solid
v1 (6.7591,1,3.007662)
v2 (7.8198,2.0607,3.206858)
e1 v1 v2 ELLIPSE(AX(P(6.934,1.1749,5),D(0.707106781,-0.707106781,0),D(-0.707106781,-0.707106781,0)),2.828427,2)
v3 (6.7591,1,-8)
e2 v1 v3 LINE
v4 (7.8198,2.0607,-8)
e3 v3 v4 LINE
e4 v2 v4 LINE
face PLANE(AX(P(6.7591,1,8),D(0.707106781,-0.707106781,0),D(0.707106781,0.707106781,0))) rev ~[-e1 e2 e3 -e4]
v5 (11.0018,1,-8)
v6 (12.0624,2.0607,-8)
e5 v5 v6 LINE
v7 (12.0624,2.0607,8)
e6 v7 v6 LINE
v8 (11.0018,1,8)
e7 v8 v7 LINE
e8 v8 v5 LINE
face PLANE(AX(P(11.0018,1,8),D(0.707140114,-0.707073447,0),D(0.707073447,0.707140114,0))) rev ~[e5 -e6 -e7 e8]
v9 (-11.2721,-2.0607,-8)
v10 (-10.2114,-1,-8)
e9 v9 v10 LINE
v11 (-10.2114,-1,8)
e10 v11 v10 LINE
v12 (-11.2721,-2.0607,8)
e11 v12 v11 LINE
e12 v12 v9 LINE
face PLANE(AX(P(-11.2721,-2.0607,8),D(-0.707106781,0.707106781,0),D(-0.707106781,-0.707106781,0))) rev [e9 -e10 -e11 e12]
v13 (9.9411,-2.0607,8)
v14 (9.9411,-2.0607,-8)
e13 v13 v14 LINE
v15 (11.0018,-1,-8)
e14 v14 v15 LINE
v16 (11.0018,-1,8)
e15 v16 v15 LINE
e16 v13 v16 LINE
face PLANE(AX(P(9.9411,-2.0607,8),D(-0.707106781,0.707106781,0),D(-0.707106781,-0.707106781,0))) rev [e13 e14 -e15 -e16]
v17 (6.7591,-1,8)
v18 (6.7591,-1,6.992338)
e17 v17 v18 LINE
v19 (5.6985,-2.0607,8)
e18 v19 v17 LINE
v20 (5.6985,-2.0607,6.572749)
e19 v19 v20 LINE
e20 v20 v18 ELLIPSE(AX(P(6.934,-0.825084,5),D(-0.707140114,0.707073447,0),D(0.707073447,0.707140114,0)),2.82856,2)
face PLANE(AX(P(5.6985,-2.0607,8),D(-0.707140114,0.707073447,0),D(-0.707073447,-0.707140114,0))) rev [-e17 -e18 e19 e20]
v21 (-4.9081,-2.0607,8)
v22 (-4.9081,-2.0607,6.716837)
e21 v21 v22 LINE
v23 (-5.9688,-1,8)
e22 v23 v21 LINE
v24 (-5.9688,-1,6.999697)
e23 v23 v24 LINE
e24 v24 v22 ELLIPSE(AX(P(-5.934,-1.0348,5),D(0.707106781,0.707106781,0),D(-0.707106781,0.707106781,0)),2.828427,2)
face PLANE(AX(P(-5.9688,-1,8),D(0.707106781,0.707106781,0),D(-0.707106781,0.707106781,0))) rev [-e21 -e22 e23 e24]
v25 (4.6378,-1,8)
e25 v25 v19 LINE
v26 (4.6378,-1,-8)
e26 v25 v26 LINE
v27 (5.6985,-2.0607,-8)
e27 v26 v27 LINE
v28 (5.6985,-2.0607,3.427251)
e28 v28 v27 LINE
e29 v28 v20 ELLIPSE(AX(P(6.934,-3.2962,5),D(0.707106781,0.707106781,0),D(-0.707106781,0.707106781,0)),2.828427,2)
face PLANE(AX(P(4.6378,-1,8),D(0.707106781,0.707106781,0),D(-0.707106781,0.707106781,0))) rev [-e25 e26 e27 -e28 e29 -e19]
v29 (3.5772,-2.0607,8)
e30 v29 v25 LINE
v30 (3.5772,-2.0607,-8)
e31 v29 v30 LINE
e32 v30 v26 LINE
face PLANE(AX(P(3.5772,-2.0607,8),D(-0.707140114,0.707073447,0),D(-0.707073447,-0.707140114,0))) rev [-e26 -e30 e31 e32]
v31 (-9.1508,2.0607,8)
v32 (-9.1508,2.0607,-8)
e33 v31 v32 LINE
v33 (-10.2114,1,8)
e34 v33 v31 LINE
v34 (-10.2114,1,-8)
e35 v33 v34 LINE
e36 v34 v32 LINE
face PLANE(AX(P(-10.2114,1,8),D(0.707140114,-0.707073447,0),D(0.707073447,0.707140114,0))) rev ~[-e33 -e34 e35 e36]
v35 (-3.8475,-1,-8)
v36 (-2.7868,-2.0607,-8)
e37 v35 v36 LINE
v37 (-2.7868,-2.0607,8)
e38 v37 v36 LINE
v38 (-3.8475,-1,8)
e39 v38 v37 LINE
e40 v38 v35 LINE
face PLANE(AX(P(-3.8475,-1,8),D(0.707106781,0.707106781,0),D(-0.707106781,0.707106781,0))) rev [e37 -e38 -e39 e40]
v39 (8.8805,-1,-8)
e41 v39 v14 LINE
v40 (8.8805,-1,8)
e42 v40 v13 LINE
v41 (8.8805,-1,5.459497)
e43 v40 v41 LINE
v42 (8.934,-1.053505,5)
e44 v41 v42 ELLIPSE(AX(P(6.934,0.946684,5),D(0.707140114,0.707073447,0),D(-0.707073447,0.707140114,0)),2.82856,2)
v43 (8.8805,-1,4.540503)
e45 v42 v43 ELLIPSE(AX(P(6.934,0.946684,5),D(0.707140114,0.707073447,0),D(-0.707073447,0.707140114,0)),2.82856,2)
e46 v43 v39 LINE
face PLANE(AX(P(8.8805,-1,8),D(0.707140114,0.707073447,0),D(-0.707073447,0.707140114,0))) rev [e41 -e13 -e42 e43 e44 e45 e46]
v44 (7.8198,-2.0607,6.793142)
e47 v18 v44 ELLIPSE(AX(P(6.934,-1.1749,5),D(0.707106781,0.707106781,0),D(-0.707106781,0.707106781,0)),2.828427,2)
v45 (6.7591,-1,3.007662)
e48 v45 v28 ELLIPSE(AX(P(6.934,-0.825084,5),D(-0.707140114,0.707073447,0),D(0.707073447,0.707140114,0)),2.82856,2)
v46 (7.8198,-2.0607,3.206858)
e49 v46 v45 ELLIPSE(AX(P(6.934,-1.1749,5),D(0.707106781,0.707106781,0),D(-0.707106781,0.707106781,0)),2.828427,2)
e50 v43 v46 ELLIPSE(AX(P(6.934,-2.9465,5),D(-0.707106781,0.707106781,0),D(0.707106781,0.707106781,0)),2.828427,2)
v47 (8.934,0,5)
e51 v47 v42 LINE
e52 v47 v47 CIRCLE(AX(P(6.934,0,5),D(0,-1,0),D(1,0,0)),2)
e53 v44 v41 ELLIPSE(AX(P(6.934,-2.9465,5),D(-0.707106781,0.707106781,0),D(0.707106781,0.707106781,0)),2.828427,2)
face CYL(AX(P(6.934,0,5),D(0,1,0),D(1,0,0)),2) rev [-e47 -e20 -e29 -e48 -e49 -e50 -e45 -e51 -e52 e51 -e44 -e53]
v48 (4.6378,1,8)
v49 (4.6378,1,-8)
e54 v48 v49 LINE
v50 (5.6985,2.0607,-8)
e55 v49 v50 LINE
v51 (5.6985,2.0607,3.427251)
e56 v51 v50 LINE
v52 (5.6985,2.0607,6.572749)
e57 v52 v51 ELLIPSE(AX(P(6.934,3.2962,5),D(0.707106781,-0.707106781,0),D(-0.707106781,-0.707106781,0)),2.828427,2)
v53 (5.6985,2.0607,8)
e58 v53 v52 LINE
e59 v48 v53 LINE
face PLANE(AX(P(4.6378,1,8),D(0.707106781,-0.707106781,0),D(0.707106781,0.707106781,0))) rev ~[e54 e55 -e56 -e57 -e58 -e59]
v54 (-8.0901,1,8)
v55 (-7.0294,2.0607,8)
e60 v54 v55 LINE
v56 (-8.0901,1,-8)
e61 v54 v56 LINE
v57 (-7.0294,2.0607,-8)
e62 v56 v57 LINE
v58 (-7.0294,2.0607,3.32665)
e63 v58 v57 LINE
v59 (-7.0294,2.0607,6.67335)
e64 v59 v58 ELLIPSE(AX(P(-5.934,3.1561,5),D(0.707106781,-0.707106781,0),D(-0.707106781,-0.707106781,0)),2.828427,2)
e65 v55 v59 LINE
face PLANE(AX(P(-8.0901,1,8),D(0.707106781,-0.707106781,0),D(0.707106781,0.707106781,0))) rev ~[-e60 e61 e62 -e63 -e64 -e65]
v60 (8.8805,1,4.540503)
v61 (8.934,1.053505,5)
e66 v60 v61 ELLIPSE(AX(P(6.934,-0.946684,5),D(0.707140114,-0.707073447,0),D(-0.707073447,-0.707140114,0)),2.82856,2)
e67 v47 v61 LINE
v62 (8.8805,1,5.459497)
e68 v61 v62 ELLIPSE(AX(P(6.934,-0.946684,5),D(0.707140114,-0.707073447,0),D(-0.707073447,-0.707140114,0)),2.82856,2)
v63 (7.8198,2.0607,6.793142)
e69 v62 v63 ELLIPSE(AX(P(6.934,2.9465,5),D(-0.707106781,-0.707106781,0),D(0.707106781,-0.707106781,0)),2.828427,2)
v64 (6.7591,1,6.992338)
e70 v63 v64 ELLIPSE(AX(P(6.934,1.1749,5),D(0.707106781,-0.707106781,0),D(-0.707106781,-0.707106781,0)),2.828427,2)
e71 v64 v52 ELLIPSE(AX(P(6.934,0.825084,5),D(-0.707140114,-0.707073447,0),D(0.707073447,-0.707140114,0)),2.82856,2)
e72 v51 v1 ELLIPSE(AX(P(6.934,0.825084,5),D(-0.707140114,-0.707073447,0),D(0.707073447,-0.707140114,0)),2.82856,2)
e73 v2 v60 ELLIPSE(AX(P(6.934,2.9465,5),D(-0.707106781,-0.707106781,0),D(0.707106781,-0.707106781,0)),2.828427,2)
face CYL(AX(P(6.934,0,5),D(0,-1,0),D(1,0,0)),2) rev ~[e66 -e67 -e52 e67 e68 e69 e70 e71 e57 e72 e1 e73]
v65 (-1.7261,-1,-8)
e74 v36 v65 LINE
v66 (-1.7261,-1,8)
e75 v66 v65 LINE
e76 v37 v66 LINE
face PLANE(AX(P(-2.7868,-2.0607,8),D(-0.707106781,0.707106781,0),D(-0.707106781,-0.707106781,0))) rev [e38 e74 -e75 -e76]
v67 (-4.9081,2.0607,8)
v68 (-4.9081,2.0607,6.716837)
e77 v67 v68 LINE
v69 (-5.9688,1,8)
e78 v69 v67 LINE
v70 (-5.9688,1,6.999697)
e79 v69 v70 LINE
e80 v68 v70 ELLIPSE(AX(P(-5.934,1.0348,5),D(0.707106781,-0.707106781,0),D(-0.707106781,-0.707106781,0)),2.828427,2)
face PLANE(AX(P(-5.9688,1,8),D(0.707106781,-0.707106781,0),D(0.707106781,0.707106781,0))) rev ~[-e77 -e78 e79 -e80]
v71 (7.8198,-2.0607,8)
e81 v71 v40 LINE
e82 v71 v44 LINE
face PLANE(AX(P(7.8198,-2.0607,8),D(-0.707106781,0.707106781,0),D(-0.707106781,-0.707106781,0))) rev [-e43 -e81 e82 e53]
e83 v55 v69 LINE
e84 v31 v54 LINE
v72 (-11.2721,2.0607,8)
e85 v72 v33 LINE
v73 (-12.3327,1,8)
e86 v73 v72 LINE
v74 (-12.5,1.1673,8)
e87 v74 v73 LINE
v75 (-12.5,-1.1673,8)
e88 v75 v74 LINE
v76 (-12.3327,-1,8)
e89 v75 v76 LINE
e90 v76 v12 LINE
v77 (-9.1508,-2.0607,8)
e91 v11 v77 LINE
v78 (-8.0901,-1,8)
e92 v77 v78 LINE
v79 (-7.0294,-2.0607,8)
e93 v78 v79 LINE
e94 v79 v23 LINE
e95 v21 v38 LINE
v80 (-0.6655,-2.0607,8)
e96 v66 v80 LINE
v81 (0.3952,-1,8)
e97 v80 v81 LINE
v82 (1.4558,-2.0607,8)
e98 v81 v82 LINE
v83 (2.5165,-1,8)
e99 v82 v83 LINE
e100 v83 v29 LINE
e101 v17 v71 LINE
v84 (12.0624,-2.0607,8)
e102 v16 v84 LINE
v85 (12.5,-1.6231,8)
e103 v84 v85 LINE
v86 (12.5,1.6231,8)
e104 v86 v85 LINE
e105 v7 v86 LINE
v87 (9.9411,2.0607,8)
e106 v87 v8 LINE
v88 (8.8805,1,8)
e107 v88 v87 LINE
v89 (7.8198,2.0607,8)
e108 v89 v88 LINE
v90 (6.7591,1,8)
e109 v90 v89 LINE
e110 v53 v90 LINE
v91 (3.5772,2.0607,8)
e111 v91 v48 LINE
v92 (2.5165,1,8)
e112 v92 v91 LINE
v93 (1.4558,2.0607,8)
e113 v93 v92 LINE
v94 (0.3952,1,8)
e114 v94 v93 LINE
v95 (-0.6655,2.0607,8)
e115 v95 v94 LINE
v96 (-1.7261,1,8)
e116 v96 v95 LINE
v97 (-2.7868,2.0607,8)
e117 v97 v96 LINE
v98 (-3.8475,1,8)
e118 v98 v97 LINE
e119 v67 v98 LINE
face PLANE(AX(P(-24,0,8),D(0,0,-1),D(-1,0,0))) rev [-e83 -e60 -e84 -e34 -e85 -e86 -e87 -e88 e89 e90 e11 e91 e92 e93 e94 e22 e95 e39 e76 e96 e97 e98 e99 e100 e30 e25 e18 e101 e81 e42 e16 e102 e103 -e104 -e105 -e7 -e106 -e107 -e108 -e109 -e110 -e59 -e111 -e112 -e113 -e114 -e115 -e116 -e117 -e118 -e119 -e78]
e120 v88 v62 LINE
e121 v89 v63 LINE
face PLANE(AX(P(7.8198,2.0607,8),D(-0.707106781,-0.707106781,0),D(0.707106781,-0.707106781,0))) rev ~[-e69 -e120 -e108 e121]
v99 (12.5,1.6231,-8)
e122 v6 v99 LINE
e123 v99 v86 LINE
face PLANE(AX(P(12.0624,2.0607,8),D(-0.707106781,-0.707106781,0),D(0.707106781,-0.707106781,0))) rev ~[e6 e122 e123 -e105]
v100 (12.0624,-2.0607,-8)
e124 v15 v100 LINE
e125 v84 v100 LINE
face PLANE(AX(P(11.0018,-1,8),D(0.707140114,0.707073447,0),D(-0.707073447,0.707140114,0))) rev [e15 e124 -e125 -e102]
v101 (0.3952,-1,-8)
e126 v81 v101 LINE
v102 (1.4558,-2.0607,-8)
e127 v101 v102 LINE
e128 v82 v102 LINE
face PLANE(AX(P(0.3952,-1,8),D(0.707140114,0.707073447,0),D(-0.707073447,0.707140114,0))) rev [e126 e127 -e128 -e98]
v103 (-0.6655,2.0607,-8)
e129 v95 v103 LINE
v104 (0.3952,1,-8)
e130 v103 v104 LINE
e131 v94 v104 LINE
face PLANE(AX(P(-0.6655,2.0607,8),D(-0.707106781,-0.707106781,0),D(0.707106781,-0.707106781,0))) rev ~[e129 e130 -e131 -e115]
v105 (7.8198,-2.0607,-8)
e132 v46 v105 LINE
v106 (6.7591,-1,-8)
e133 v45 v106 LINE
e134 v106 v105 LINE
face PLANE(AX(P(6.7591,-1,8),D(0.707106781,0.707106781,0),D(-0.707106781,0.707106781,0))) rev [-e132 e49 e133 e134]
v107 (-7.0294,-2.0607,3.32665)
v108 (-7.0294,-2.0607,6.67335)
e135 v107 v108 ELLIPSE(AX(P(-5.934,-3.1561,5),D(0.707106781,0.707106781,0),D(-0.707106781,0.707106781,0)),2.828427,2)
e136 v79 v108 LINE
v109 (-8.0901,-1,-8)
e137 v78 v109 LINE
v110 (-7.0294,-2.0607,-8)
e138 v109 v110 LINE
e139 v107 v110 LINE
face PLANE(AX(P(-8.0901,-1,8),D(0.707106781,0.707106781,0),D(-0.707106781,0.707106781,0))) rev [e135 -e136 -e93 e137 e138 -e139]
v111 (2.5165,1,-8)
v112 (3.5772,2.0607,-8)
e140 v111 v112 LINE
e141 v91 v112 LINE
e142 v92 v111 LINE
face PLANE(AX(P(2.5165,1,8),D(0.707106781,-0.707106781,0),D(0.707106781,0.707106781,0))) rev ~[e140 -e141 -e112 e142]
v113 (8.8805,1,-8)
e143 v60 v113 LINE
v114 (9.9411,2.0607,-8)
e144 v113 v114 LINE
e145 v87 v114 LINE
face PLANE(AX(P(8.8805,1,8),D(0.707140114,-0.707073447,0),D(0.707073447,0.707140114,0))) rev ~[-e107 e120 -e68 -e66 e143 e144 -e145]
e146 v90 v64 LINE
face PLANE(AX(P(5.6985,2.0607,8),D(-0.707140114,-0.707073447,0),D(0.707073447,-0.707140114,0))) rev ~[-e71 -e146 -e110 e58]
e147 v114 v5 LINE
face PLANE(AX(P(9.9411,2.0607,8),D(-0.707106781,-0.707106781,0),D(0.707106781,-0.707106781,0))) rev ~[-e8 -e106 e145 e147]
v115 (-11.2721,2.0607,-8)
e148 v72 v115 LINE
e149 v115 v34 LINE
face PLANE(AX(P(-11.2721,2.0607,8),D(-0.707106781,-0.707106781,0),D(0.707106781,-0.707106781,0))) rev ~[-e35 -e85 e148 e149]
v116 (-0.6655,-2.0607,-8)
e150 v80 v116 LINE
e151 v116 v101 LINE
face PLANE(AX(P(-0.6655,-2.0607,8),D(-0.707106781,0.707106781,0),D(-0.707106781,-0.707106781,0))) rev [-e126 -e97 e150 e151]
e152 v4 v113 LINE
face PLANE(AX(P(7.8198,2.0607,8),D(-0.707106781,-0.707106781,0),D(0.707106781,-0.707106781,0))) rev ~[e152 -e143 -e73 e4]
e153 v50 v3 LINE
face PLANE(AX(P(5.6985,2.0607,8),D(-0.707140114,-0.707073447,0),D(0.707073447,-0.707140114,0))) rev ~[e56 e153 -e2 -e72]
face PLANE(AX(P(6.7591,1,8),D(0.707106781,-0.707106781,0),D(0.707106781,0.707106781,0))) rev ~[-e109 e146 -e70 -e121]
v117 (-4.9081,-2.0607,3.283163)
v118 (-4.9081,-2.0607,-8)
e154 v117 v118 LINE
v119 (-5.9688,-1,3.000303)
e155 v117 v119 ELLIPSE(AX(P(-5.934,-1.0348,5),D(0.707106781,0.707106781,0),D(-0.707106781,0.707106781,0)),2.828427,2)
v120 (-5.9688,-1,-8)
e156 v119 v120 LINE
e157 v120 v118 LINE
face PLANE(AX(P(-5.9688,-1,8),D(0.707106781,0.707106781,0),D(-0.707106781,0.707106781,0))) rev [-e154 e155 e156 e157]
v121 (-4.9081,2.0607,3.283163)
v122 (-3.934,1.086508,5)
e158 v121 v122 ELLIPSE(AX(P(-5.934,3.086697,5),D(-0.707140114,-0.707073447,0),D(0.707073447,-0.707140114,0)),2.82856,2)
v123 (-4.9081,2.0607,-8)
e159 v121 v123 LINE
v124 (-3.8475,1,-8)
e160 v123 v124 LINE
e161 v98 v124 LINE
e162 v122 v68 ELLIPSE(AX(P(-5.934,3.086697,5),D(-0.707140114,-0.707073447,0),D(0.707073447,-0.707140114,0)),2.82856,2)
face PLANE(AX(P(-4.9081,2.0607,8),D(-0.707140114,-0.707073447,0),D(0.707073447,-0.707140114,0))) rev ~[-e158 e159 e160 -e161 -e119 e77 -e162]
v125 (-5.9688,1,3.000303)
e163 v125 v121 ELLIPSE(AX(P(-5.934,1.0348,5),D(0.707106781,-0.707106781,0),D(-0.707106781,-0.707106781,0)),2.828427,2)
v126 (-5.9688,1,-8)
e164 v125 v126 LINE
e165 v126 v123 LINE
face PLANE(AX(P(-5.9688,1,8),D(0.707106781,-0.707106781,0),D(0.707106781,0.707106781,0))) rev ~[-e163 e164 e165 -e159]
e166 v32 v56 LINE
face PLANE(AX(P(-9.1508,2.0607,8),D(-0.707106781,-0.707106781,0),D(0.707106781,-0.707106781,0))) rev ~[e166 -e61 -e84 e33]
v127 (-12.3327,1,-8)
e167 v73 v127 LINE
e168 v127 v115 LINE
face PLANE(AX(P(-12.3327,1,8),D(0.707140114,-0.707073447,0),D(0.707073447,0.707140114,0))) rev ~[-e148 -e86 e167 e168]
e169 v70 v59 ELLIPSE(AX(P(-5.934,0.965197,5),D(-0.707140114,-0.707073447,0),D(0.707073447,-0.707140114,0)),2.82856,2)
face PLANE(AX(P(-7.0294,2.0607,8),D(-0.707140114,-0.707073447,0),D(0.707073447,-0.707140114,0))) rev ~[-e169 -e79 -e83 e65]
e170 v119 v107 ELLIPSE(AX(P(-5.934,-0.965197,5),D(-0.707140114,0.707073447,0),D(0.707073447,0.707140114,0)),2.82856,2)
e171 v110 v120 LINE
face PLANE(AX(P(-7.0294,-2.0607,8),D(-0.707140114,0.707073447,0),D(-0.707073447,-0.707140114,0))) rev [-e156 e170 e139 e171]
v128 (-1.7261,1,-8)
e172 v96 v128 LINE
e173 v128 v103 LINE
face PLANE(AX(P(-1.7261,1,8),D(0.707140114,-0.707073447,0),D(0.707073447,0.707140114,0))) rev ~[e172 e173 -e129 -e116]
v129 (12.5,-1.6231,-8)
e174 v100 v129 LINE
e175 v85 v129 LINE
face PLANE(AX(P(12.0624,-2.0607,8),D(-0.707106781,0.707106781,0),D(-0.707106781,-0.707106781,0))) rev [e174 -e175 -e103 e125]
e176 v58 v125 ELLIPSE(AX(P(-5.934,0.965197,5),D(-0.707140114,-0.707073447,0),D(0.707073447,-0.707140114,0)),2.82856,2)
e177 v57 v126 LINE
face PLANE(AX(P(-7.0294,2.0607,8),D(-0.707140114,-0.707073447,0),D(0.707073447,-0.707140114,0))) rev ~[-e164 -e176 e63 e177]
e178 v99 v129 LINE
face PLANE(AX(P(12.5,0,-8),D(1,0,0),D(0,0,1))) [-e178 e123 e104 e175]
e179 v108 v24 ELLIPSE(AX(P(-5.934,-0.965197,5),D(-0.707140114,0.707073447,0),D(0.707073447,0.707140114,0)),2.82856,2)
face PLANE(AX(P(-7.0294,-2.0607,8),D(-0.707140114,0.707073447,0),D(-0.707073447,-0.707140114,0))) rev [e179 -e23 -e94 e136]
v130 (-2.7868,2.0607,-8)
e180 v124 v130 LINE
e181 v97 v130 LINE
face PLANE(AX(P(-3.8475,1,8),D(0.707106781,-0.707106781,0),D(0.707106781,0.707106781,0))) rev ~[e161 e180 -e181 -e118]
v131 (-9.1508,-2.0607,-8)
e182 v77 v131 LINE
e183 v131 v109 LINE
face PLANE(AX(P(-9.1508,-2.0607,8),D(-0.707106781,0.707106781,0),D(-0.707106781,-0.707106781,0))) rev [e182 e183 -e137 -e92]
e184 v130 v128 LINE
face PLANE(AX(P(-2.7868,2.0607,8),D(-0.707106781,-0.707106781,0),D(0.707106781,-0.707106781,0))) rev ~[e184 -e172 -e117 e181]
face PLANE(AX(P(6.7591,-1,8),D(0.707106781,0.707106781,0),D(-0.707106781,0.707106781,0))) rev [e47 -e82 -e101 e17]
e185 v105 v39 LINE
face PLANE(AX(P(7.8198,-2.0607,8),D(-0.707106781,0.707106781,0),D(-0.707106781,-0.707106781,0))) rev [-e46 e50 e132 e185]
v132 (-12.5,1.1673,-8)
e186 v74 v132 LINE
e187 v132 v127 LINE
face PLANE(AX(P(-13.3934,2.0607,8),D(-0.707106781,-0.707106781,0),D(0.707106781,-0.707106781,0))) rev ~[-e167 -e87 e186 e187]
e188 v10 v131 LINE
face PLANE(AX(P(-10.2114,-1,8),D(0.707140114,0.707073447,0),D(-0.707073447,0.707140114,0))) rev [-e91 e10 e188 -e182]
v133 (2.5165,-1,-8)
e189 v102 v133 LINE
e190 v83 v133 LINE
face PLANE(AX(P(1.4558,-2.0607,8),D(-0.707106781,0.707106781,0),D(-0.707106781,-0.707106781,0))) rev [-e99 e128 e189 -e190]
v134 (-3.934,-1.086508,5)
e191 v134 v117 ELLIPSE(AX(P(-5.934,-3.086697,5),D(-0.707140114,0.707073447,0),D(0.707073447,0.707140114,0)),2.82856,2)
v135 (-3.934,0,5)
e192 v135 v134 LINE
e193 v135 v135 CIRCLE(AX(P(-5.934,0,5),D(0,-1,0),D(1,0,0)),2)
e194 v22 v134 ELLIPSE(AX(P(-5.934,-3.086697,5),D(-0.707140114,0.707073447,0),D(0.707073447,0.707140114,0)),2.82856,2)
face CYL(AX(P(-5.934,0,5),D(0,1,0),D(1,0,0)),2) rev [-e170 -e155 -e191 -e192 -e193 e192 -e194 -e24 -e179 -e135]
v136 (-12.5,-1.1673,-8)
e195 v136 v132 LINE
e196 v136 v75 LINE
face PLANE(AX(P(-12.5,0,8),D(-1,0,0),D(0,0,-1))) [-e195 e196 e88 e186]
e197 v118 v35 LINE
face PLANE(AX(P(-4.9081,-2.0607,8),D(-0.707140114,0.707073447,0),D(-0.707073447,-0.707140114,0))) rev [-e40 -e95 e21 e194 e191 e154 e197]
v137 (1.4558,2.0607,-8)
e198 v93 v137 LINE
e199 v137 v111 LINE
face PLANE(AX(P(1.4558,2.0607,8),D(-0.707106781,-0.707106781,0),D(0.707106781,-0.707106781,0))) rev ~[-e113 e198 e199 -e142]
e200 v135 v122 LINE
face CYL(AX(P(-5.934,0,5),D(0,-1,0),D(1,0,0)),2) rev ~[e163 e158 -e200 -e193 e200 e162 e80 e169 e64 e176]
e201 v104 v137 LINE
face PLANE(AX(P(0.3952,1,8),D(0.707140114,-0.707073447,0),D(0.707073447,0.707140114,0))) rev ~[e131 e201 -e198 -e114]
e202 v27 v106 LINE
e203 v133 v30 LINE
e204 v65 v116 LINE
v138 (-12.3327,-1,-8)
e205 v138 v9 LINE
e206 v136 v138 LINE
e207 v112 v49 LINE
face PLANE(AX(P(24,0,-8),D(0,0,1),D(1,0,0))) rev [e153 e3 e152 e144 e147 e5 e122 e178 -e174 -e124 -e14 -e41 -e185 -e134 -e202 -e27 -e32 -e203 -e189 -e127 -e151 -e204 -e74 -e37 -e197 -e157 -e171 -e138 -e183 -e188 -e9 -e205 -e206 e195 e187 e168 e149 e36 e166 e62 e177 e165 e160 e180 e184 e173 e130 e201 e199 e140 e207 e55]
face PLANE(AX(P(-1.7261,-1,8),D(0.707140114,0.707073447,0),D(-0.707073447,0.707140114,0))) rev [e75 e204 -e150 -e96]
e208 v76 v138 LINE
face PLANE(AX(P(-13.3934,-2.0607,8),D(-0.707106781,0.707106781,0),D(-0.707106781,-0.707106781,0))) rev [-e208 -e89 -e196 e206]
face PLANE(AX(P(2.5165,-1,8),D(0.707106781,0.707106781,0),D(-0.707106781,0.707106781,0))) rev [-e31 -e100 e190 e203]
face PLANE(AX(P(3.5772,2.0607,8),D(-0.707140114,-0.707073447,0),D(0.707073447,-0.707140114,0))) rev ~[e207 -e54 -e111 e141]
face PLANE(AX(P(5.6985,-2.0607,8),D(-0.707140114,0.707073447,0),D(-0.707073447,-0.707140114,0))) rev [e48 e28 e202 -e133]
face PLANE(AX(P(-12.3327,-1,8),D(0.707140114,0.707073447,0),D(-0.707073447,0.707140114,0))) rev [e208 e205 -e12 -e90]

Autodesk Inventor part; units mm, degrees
ref_plane "YZ Plane" through (0, 0, 0) normal (1, 0, 0) x (0, 1, 0)
ref_plane "XZ Plane" through (0, 0, 0) normal (0, 1, 0) x (-1, 0, 0)
ref_plane "XY Plane" through (0, 0, 0) normal (0, 0, 1) x (1, 0, 0)
sketch "Sketch1" plane through (0, 0, 0) normal (0, 1, 0) x (-1, 0, 0)
  line L0 (24, 8) -> (-24, 8)
  line L1 (-24, 8) -> (-24, -8)
  line L2 (-24, -8) -> (24, -8)
  line L3 (24, -8) -> (24, 8)
  point P0 (0, 0)
  dimension "d0" = 48
  dimension "d1" = 16
extrude "Extrusion1" add sketch "Sketch1" along normal blind 1
sketch "Sketch2" plane through (-24, 0, 8) normal (0, 0, 1) x (1, 0, 0)
  line L0 (0, 1) -> (1.5, 1) construction
  line L1 (0, 2.0607) -> (1.0607, 1)
  line L2 (0, 1) -> (48, 1) projected
  line L3 (0, 2.0607) -> (0, 1)
  line L4 (1.0607, 1) -> (2.1213, 2.0607)
  line L5 (1.0607, 1) -> (2.5607, 1) construction
  line L6 (2.1213, 2.0607) -> (3.182, 1)
  line L7 (3.182, 1) -> (4.2426, 2.0607)
  line L8 (4.2426, 2.0607) -> (5.3033, 1)
  line L9 (5.3033, 1) -> (6.364, 2.0607)
  line L10 (6.364, 2.0607) -> (7.4246, 1)
  line L11 (7.4246, 1) -> (8.4853, 2.0607)
  line L12 (7.4246, 1) -> (8.9246, 1) construction
  line L13 (8.4853, 2.0607) -> (9.5459, 1)
  line L14 (9.5459, 1) -> (10.6066, 2.0607)
  line L15 (10.6066, 2.0607) -> (11.6673, 1)
  line L16 (11.6673, 1) -> (12.7279, 2.0607)
  line L17 (12.7279, 2.0607) -> (13.7886, 1)
  line L18 (13.7886, 1) -> (14.8492, 2.0607)
  line L19 (14.8492, 2.0607) -> (15.9099, 1)
  line L20 (15.9099, 1) -> (16.9706, 2.0607)
  line L21 (16.9706, 2.0607) -> (18.0312, 1)
  line L22 (18.0312, 1) -> (19.0919, 2.0607)
  line L23 (19.0919, 2.0607) -> (20.1525, 1)
  line L24 (20.1525, 1) -> (21.2132, 2.0607)
  line L25 (21.2132, 2.0607) -> (22.2739, 1)
  line L26 (22.2739, 1) -> (23.3345, 2.0607)
  line L27 (23.3345, 2.0607) -> (24.3952, 1)
  line L28 (24.3952, 1) -> (25.4558, 2.0607)
  line L29 (25.4558, 2.0607) -> (26.5165, 1)
  line L30 (26.5165, 1) -> (27.5772, 2.0607)
  line L31 (27.5772, 2.0607) -> (28.6378, 1)
  line L32 (27.5772, 2.0607) -> (29.0772, 2.0607) construction
  line L33 (28.6378, 1) -> (29.6985, 2.0607)
  line L34 (29.6985, 2.0607) -> (30.7591, 1)
  line L35 (30.7591, 1) -> (31.8198, 2.0607)
  line L36 (31.8198, 2.0607) -> (32.8805, 1)
  line L37 (32.8805, 1) -> (33.9411, 2.0607)
  line L38 (33.9411, 2.0607) -> (35.0018, 1)
  line L39 (35.0018, 1) -> (36.0624, 2.0607)
  line L40 (36.0624, 2.0607) -> (37.1231, 1)
  line L41 (37.1231, 1) -> (38.1838, 2.0607)
  line L42 (38.1838, 2.0607) -> (39.2444, 1)
  line L43 (39.2444, 1) -> (40.3051, 2.0607)
  line L44 (40.3051, 2.0607) -> (41.3657, 1)
  line L45 (41.3657, 1) -> (42.4264, 2.0607)
  line L46 (42.4264, 2.0607) -> (43.4871, 1)
  line L47 (43.4871, 1) -> (44.5477, 2.0607)
  line L48 (44.5477, 2.0607) -> (45.6084, 1)
  line L49 (45.6084, 1) -> (46.669, 2.0607)
  line L50 (46.669, 2.0607) -> (47.7297, 1)
  line L51 (47.7297, 1) -> (48.7904, 2.0607)
  line L52 (48, 1) -> (48, 1.2703)
  line L53 (48, 0) -> (48, 1) projected
  line L54 (48, 1) -> (0, 1)
  point P0 (24, 0)
  point P1 (47.7297, 1)
  point P2 (47.7297, 1)
  point P3 (45.6084, 1)
  point P4 (45.6084, 1)
  point P5 (43.4871, 1)
  point P6 (43.4871, 1)
  point P7 (41.3657, 1)
  point P8 (41.3657, 1)
  point P9 (39.2444, 1)
  point P10 (39.2444, 1)
  point P11 (37.1231, 1)
  point P12 (37.1231, 1)
  point P13 (35.0018, 1)
  point P14 (35.0018, 1)
  point P15 (32.8805, 1)
  point P16 (32.8805, 1)
  point P17 (30.7591, 1)
  point P18 (30.7591, 1)
  point P19 (28.6378, 1)
  point P20 (28.6378, 1)
  point P21 (26.5165, 1)
  point P22 (26.5165, 1)
  point P23 (24.3952, 1)
  point P24 (24.3952, 1)
  point P25 (22.2739, 1)
  point P26 (22.2739, 1)
  point P27 (18.0312, 1)
  point P28 (18.0312, 1)
  point P29 (15.9099, 1)
  point P30 (15.9099, 1)
  point P31 (9.5459, 1)
  point P32 (9.5459, 1)
  dimension "d6" = 1.5
  dimension "d7" = 1.5
  dimension "d8" = 45
  dimension "d9" = 1.5
  dimension "d10" = 1.5
  dimension "d11" = 90
  dimension "d12" = 1.5
  dimension "d13" = 1.5
  dimension "d14" = 1.5
  dimension "d15" = 1.5
  dimension "d16" = 45
  dimension "d17" = 1.5
  dimension "d18" = 90
  dimension "d19" = 1.5
  dimension "d20" = 1.5
  dimension "d21" = 1.5
  dimension "d22" = 1.5
  dimension "d23" = 1.5
  dimension "d24" = 1.5
  dimension "d25" = 90
  dimension "d26" = 1.5
  dimension "d27" = 90
  dimension "d28" = 1.5
  dimension "d29" = 90
  dimension "d30" = 1.5
  dimension "d31" = 1.5
  dimension "d32" = 1.5
  dimension "d33" = 1.5
  dimension "d34" = 90
  dimension "d35" = 1.5
  dimension "d36" = 90
  dimension "d37" = 1.5
  dimension "d38" = 90
  dimension "d39" = 1.5
  dimension "d40" = 90
  dimension "d41" = 1.5
  dimension "d42" = 90
  dimension "d43" = 1.5
  dimension "d44" = 90
  dimension "d45" = 1.5
  dimension "d46" = 45
  dimension "d47" = 1.5
  dimension "d48" = 90
  dimension "d49" = 1.5
  dimension "d50" = 90
  dimension "d51" = 1.5
  dimension "d52" = 90
  dimension "d53" = 1.5
  dimension "d54" = 90
  dimension "d55" = 1.5
  dimension "d56" = 90
  dimension "d57" = 1.5
  dimension "d58" = 90
  dimension "d59" = 1.5
  dimension "d60" = 90
  dimension "d61" = 1.5
  dimension "d62" = 90
  dimension "d63" = 1.5
  dimension "d64" = 90
  dimension "d65" = 1.5
  dimension "d66" = 90
  dimension "d67" = 1.5
  dimension "d68" = 90
  dimension "d69" = 1.5
extrude "Extrusion2" add sketch "Sketch2" against normal blind 16
sketch "Sketch4" plane through (0, 0, 0) normal (0, -1, 0) x (1, 0, 0)
  line L0 (-24, 8) -> (24, 8) projected
  line L1 (12.5, 8) -> (-12.5, 8)
  line L2 (-12.5, 8) -> (-12.5, -8)
  line L3 (-12.5, -8) -> (12.5, -8)
  line L4 (12.5, -8) -> (12.5, 8)
  line L5 (-12.3327, 8) -> (-12.3327, -8) projected
  line L6 (-12.3327, 8) -> (-24, 8)
  line L7 (-24, 8) -> (-24, -8)
  line L8 (-24, -8) -> (-12.3327, -8)
  line L9 (-12.3327, -8) -> (-12.3327, 8)
  line L10 (24, 8) -> (24, -8) projected
  line L11 (12.5, 8) -> (24, 8)
  line L12 (24, 8) -> (24, -8)
  line L13 (24, -8) -> (12.5, -8)
  line L14 (12.5, -8) -> (12.5, 8)
  point P0 (0, 0)
  dimension "d93" = 25
  dimension "d94" = 16
extrude "Extrusion4" cut sketch "Sketch4" against normal blind 10 contours L0 L2 L8 L7 | L0 L10 L13 L4
sketch "Sketch5" plane through (0, 0, 0) normal (0, -1, 0) x (1, 0, 0)
  circle A0 centre (6.934, 5) radius 2
  circle A1 centre (-5.934, 5) radius 2
  point P0 (0, 0)
  dimension "d97" = 4
  dimension "d98" = 4
extrude "Extrusion5" cut sketch "Sketch5" against normal blind 10
mirror "Mirror1" about plane through (0, 0, 0) normal (0, 1, 0) of "Extrusion2", "Extrusion1", "Extrusion4", "Extrusion5"
properties part number "gantryTensioner2"
